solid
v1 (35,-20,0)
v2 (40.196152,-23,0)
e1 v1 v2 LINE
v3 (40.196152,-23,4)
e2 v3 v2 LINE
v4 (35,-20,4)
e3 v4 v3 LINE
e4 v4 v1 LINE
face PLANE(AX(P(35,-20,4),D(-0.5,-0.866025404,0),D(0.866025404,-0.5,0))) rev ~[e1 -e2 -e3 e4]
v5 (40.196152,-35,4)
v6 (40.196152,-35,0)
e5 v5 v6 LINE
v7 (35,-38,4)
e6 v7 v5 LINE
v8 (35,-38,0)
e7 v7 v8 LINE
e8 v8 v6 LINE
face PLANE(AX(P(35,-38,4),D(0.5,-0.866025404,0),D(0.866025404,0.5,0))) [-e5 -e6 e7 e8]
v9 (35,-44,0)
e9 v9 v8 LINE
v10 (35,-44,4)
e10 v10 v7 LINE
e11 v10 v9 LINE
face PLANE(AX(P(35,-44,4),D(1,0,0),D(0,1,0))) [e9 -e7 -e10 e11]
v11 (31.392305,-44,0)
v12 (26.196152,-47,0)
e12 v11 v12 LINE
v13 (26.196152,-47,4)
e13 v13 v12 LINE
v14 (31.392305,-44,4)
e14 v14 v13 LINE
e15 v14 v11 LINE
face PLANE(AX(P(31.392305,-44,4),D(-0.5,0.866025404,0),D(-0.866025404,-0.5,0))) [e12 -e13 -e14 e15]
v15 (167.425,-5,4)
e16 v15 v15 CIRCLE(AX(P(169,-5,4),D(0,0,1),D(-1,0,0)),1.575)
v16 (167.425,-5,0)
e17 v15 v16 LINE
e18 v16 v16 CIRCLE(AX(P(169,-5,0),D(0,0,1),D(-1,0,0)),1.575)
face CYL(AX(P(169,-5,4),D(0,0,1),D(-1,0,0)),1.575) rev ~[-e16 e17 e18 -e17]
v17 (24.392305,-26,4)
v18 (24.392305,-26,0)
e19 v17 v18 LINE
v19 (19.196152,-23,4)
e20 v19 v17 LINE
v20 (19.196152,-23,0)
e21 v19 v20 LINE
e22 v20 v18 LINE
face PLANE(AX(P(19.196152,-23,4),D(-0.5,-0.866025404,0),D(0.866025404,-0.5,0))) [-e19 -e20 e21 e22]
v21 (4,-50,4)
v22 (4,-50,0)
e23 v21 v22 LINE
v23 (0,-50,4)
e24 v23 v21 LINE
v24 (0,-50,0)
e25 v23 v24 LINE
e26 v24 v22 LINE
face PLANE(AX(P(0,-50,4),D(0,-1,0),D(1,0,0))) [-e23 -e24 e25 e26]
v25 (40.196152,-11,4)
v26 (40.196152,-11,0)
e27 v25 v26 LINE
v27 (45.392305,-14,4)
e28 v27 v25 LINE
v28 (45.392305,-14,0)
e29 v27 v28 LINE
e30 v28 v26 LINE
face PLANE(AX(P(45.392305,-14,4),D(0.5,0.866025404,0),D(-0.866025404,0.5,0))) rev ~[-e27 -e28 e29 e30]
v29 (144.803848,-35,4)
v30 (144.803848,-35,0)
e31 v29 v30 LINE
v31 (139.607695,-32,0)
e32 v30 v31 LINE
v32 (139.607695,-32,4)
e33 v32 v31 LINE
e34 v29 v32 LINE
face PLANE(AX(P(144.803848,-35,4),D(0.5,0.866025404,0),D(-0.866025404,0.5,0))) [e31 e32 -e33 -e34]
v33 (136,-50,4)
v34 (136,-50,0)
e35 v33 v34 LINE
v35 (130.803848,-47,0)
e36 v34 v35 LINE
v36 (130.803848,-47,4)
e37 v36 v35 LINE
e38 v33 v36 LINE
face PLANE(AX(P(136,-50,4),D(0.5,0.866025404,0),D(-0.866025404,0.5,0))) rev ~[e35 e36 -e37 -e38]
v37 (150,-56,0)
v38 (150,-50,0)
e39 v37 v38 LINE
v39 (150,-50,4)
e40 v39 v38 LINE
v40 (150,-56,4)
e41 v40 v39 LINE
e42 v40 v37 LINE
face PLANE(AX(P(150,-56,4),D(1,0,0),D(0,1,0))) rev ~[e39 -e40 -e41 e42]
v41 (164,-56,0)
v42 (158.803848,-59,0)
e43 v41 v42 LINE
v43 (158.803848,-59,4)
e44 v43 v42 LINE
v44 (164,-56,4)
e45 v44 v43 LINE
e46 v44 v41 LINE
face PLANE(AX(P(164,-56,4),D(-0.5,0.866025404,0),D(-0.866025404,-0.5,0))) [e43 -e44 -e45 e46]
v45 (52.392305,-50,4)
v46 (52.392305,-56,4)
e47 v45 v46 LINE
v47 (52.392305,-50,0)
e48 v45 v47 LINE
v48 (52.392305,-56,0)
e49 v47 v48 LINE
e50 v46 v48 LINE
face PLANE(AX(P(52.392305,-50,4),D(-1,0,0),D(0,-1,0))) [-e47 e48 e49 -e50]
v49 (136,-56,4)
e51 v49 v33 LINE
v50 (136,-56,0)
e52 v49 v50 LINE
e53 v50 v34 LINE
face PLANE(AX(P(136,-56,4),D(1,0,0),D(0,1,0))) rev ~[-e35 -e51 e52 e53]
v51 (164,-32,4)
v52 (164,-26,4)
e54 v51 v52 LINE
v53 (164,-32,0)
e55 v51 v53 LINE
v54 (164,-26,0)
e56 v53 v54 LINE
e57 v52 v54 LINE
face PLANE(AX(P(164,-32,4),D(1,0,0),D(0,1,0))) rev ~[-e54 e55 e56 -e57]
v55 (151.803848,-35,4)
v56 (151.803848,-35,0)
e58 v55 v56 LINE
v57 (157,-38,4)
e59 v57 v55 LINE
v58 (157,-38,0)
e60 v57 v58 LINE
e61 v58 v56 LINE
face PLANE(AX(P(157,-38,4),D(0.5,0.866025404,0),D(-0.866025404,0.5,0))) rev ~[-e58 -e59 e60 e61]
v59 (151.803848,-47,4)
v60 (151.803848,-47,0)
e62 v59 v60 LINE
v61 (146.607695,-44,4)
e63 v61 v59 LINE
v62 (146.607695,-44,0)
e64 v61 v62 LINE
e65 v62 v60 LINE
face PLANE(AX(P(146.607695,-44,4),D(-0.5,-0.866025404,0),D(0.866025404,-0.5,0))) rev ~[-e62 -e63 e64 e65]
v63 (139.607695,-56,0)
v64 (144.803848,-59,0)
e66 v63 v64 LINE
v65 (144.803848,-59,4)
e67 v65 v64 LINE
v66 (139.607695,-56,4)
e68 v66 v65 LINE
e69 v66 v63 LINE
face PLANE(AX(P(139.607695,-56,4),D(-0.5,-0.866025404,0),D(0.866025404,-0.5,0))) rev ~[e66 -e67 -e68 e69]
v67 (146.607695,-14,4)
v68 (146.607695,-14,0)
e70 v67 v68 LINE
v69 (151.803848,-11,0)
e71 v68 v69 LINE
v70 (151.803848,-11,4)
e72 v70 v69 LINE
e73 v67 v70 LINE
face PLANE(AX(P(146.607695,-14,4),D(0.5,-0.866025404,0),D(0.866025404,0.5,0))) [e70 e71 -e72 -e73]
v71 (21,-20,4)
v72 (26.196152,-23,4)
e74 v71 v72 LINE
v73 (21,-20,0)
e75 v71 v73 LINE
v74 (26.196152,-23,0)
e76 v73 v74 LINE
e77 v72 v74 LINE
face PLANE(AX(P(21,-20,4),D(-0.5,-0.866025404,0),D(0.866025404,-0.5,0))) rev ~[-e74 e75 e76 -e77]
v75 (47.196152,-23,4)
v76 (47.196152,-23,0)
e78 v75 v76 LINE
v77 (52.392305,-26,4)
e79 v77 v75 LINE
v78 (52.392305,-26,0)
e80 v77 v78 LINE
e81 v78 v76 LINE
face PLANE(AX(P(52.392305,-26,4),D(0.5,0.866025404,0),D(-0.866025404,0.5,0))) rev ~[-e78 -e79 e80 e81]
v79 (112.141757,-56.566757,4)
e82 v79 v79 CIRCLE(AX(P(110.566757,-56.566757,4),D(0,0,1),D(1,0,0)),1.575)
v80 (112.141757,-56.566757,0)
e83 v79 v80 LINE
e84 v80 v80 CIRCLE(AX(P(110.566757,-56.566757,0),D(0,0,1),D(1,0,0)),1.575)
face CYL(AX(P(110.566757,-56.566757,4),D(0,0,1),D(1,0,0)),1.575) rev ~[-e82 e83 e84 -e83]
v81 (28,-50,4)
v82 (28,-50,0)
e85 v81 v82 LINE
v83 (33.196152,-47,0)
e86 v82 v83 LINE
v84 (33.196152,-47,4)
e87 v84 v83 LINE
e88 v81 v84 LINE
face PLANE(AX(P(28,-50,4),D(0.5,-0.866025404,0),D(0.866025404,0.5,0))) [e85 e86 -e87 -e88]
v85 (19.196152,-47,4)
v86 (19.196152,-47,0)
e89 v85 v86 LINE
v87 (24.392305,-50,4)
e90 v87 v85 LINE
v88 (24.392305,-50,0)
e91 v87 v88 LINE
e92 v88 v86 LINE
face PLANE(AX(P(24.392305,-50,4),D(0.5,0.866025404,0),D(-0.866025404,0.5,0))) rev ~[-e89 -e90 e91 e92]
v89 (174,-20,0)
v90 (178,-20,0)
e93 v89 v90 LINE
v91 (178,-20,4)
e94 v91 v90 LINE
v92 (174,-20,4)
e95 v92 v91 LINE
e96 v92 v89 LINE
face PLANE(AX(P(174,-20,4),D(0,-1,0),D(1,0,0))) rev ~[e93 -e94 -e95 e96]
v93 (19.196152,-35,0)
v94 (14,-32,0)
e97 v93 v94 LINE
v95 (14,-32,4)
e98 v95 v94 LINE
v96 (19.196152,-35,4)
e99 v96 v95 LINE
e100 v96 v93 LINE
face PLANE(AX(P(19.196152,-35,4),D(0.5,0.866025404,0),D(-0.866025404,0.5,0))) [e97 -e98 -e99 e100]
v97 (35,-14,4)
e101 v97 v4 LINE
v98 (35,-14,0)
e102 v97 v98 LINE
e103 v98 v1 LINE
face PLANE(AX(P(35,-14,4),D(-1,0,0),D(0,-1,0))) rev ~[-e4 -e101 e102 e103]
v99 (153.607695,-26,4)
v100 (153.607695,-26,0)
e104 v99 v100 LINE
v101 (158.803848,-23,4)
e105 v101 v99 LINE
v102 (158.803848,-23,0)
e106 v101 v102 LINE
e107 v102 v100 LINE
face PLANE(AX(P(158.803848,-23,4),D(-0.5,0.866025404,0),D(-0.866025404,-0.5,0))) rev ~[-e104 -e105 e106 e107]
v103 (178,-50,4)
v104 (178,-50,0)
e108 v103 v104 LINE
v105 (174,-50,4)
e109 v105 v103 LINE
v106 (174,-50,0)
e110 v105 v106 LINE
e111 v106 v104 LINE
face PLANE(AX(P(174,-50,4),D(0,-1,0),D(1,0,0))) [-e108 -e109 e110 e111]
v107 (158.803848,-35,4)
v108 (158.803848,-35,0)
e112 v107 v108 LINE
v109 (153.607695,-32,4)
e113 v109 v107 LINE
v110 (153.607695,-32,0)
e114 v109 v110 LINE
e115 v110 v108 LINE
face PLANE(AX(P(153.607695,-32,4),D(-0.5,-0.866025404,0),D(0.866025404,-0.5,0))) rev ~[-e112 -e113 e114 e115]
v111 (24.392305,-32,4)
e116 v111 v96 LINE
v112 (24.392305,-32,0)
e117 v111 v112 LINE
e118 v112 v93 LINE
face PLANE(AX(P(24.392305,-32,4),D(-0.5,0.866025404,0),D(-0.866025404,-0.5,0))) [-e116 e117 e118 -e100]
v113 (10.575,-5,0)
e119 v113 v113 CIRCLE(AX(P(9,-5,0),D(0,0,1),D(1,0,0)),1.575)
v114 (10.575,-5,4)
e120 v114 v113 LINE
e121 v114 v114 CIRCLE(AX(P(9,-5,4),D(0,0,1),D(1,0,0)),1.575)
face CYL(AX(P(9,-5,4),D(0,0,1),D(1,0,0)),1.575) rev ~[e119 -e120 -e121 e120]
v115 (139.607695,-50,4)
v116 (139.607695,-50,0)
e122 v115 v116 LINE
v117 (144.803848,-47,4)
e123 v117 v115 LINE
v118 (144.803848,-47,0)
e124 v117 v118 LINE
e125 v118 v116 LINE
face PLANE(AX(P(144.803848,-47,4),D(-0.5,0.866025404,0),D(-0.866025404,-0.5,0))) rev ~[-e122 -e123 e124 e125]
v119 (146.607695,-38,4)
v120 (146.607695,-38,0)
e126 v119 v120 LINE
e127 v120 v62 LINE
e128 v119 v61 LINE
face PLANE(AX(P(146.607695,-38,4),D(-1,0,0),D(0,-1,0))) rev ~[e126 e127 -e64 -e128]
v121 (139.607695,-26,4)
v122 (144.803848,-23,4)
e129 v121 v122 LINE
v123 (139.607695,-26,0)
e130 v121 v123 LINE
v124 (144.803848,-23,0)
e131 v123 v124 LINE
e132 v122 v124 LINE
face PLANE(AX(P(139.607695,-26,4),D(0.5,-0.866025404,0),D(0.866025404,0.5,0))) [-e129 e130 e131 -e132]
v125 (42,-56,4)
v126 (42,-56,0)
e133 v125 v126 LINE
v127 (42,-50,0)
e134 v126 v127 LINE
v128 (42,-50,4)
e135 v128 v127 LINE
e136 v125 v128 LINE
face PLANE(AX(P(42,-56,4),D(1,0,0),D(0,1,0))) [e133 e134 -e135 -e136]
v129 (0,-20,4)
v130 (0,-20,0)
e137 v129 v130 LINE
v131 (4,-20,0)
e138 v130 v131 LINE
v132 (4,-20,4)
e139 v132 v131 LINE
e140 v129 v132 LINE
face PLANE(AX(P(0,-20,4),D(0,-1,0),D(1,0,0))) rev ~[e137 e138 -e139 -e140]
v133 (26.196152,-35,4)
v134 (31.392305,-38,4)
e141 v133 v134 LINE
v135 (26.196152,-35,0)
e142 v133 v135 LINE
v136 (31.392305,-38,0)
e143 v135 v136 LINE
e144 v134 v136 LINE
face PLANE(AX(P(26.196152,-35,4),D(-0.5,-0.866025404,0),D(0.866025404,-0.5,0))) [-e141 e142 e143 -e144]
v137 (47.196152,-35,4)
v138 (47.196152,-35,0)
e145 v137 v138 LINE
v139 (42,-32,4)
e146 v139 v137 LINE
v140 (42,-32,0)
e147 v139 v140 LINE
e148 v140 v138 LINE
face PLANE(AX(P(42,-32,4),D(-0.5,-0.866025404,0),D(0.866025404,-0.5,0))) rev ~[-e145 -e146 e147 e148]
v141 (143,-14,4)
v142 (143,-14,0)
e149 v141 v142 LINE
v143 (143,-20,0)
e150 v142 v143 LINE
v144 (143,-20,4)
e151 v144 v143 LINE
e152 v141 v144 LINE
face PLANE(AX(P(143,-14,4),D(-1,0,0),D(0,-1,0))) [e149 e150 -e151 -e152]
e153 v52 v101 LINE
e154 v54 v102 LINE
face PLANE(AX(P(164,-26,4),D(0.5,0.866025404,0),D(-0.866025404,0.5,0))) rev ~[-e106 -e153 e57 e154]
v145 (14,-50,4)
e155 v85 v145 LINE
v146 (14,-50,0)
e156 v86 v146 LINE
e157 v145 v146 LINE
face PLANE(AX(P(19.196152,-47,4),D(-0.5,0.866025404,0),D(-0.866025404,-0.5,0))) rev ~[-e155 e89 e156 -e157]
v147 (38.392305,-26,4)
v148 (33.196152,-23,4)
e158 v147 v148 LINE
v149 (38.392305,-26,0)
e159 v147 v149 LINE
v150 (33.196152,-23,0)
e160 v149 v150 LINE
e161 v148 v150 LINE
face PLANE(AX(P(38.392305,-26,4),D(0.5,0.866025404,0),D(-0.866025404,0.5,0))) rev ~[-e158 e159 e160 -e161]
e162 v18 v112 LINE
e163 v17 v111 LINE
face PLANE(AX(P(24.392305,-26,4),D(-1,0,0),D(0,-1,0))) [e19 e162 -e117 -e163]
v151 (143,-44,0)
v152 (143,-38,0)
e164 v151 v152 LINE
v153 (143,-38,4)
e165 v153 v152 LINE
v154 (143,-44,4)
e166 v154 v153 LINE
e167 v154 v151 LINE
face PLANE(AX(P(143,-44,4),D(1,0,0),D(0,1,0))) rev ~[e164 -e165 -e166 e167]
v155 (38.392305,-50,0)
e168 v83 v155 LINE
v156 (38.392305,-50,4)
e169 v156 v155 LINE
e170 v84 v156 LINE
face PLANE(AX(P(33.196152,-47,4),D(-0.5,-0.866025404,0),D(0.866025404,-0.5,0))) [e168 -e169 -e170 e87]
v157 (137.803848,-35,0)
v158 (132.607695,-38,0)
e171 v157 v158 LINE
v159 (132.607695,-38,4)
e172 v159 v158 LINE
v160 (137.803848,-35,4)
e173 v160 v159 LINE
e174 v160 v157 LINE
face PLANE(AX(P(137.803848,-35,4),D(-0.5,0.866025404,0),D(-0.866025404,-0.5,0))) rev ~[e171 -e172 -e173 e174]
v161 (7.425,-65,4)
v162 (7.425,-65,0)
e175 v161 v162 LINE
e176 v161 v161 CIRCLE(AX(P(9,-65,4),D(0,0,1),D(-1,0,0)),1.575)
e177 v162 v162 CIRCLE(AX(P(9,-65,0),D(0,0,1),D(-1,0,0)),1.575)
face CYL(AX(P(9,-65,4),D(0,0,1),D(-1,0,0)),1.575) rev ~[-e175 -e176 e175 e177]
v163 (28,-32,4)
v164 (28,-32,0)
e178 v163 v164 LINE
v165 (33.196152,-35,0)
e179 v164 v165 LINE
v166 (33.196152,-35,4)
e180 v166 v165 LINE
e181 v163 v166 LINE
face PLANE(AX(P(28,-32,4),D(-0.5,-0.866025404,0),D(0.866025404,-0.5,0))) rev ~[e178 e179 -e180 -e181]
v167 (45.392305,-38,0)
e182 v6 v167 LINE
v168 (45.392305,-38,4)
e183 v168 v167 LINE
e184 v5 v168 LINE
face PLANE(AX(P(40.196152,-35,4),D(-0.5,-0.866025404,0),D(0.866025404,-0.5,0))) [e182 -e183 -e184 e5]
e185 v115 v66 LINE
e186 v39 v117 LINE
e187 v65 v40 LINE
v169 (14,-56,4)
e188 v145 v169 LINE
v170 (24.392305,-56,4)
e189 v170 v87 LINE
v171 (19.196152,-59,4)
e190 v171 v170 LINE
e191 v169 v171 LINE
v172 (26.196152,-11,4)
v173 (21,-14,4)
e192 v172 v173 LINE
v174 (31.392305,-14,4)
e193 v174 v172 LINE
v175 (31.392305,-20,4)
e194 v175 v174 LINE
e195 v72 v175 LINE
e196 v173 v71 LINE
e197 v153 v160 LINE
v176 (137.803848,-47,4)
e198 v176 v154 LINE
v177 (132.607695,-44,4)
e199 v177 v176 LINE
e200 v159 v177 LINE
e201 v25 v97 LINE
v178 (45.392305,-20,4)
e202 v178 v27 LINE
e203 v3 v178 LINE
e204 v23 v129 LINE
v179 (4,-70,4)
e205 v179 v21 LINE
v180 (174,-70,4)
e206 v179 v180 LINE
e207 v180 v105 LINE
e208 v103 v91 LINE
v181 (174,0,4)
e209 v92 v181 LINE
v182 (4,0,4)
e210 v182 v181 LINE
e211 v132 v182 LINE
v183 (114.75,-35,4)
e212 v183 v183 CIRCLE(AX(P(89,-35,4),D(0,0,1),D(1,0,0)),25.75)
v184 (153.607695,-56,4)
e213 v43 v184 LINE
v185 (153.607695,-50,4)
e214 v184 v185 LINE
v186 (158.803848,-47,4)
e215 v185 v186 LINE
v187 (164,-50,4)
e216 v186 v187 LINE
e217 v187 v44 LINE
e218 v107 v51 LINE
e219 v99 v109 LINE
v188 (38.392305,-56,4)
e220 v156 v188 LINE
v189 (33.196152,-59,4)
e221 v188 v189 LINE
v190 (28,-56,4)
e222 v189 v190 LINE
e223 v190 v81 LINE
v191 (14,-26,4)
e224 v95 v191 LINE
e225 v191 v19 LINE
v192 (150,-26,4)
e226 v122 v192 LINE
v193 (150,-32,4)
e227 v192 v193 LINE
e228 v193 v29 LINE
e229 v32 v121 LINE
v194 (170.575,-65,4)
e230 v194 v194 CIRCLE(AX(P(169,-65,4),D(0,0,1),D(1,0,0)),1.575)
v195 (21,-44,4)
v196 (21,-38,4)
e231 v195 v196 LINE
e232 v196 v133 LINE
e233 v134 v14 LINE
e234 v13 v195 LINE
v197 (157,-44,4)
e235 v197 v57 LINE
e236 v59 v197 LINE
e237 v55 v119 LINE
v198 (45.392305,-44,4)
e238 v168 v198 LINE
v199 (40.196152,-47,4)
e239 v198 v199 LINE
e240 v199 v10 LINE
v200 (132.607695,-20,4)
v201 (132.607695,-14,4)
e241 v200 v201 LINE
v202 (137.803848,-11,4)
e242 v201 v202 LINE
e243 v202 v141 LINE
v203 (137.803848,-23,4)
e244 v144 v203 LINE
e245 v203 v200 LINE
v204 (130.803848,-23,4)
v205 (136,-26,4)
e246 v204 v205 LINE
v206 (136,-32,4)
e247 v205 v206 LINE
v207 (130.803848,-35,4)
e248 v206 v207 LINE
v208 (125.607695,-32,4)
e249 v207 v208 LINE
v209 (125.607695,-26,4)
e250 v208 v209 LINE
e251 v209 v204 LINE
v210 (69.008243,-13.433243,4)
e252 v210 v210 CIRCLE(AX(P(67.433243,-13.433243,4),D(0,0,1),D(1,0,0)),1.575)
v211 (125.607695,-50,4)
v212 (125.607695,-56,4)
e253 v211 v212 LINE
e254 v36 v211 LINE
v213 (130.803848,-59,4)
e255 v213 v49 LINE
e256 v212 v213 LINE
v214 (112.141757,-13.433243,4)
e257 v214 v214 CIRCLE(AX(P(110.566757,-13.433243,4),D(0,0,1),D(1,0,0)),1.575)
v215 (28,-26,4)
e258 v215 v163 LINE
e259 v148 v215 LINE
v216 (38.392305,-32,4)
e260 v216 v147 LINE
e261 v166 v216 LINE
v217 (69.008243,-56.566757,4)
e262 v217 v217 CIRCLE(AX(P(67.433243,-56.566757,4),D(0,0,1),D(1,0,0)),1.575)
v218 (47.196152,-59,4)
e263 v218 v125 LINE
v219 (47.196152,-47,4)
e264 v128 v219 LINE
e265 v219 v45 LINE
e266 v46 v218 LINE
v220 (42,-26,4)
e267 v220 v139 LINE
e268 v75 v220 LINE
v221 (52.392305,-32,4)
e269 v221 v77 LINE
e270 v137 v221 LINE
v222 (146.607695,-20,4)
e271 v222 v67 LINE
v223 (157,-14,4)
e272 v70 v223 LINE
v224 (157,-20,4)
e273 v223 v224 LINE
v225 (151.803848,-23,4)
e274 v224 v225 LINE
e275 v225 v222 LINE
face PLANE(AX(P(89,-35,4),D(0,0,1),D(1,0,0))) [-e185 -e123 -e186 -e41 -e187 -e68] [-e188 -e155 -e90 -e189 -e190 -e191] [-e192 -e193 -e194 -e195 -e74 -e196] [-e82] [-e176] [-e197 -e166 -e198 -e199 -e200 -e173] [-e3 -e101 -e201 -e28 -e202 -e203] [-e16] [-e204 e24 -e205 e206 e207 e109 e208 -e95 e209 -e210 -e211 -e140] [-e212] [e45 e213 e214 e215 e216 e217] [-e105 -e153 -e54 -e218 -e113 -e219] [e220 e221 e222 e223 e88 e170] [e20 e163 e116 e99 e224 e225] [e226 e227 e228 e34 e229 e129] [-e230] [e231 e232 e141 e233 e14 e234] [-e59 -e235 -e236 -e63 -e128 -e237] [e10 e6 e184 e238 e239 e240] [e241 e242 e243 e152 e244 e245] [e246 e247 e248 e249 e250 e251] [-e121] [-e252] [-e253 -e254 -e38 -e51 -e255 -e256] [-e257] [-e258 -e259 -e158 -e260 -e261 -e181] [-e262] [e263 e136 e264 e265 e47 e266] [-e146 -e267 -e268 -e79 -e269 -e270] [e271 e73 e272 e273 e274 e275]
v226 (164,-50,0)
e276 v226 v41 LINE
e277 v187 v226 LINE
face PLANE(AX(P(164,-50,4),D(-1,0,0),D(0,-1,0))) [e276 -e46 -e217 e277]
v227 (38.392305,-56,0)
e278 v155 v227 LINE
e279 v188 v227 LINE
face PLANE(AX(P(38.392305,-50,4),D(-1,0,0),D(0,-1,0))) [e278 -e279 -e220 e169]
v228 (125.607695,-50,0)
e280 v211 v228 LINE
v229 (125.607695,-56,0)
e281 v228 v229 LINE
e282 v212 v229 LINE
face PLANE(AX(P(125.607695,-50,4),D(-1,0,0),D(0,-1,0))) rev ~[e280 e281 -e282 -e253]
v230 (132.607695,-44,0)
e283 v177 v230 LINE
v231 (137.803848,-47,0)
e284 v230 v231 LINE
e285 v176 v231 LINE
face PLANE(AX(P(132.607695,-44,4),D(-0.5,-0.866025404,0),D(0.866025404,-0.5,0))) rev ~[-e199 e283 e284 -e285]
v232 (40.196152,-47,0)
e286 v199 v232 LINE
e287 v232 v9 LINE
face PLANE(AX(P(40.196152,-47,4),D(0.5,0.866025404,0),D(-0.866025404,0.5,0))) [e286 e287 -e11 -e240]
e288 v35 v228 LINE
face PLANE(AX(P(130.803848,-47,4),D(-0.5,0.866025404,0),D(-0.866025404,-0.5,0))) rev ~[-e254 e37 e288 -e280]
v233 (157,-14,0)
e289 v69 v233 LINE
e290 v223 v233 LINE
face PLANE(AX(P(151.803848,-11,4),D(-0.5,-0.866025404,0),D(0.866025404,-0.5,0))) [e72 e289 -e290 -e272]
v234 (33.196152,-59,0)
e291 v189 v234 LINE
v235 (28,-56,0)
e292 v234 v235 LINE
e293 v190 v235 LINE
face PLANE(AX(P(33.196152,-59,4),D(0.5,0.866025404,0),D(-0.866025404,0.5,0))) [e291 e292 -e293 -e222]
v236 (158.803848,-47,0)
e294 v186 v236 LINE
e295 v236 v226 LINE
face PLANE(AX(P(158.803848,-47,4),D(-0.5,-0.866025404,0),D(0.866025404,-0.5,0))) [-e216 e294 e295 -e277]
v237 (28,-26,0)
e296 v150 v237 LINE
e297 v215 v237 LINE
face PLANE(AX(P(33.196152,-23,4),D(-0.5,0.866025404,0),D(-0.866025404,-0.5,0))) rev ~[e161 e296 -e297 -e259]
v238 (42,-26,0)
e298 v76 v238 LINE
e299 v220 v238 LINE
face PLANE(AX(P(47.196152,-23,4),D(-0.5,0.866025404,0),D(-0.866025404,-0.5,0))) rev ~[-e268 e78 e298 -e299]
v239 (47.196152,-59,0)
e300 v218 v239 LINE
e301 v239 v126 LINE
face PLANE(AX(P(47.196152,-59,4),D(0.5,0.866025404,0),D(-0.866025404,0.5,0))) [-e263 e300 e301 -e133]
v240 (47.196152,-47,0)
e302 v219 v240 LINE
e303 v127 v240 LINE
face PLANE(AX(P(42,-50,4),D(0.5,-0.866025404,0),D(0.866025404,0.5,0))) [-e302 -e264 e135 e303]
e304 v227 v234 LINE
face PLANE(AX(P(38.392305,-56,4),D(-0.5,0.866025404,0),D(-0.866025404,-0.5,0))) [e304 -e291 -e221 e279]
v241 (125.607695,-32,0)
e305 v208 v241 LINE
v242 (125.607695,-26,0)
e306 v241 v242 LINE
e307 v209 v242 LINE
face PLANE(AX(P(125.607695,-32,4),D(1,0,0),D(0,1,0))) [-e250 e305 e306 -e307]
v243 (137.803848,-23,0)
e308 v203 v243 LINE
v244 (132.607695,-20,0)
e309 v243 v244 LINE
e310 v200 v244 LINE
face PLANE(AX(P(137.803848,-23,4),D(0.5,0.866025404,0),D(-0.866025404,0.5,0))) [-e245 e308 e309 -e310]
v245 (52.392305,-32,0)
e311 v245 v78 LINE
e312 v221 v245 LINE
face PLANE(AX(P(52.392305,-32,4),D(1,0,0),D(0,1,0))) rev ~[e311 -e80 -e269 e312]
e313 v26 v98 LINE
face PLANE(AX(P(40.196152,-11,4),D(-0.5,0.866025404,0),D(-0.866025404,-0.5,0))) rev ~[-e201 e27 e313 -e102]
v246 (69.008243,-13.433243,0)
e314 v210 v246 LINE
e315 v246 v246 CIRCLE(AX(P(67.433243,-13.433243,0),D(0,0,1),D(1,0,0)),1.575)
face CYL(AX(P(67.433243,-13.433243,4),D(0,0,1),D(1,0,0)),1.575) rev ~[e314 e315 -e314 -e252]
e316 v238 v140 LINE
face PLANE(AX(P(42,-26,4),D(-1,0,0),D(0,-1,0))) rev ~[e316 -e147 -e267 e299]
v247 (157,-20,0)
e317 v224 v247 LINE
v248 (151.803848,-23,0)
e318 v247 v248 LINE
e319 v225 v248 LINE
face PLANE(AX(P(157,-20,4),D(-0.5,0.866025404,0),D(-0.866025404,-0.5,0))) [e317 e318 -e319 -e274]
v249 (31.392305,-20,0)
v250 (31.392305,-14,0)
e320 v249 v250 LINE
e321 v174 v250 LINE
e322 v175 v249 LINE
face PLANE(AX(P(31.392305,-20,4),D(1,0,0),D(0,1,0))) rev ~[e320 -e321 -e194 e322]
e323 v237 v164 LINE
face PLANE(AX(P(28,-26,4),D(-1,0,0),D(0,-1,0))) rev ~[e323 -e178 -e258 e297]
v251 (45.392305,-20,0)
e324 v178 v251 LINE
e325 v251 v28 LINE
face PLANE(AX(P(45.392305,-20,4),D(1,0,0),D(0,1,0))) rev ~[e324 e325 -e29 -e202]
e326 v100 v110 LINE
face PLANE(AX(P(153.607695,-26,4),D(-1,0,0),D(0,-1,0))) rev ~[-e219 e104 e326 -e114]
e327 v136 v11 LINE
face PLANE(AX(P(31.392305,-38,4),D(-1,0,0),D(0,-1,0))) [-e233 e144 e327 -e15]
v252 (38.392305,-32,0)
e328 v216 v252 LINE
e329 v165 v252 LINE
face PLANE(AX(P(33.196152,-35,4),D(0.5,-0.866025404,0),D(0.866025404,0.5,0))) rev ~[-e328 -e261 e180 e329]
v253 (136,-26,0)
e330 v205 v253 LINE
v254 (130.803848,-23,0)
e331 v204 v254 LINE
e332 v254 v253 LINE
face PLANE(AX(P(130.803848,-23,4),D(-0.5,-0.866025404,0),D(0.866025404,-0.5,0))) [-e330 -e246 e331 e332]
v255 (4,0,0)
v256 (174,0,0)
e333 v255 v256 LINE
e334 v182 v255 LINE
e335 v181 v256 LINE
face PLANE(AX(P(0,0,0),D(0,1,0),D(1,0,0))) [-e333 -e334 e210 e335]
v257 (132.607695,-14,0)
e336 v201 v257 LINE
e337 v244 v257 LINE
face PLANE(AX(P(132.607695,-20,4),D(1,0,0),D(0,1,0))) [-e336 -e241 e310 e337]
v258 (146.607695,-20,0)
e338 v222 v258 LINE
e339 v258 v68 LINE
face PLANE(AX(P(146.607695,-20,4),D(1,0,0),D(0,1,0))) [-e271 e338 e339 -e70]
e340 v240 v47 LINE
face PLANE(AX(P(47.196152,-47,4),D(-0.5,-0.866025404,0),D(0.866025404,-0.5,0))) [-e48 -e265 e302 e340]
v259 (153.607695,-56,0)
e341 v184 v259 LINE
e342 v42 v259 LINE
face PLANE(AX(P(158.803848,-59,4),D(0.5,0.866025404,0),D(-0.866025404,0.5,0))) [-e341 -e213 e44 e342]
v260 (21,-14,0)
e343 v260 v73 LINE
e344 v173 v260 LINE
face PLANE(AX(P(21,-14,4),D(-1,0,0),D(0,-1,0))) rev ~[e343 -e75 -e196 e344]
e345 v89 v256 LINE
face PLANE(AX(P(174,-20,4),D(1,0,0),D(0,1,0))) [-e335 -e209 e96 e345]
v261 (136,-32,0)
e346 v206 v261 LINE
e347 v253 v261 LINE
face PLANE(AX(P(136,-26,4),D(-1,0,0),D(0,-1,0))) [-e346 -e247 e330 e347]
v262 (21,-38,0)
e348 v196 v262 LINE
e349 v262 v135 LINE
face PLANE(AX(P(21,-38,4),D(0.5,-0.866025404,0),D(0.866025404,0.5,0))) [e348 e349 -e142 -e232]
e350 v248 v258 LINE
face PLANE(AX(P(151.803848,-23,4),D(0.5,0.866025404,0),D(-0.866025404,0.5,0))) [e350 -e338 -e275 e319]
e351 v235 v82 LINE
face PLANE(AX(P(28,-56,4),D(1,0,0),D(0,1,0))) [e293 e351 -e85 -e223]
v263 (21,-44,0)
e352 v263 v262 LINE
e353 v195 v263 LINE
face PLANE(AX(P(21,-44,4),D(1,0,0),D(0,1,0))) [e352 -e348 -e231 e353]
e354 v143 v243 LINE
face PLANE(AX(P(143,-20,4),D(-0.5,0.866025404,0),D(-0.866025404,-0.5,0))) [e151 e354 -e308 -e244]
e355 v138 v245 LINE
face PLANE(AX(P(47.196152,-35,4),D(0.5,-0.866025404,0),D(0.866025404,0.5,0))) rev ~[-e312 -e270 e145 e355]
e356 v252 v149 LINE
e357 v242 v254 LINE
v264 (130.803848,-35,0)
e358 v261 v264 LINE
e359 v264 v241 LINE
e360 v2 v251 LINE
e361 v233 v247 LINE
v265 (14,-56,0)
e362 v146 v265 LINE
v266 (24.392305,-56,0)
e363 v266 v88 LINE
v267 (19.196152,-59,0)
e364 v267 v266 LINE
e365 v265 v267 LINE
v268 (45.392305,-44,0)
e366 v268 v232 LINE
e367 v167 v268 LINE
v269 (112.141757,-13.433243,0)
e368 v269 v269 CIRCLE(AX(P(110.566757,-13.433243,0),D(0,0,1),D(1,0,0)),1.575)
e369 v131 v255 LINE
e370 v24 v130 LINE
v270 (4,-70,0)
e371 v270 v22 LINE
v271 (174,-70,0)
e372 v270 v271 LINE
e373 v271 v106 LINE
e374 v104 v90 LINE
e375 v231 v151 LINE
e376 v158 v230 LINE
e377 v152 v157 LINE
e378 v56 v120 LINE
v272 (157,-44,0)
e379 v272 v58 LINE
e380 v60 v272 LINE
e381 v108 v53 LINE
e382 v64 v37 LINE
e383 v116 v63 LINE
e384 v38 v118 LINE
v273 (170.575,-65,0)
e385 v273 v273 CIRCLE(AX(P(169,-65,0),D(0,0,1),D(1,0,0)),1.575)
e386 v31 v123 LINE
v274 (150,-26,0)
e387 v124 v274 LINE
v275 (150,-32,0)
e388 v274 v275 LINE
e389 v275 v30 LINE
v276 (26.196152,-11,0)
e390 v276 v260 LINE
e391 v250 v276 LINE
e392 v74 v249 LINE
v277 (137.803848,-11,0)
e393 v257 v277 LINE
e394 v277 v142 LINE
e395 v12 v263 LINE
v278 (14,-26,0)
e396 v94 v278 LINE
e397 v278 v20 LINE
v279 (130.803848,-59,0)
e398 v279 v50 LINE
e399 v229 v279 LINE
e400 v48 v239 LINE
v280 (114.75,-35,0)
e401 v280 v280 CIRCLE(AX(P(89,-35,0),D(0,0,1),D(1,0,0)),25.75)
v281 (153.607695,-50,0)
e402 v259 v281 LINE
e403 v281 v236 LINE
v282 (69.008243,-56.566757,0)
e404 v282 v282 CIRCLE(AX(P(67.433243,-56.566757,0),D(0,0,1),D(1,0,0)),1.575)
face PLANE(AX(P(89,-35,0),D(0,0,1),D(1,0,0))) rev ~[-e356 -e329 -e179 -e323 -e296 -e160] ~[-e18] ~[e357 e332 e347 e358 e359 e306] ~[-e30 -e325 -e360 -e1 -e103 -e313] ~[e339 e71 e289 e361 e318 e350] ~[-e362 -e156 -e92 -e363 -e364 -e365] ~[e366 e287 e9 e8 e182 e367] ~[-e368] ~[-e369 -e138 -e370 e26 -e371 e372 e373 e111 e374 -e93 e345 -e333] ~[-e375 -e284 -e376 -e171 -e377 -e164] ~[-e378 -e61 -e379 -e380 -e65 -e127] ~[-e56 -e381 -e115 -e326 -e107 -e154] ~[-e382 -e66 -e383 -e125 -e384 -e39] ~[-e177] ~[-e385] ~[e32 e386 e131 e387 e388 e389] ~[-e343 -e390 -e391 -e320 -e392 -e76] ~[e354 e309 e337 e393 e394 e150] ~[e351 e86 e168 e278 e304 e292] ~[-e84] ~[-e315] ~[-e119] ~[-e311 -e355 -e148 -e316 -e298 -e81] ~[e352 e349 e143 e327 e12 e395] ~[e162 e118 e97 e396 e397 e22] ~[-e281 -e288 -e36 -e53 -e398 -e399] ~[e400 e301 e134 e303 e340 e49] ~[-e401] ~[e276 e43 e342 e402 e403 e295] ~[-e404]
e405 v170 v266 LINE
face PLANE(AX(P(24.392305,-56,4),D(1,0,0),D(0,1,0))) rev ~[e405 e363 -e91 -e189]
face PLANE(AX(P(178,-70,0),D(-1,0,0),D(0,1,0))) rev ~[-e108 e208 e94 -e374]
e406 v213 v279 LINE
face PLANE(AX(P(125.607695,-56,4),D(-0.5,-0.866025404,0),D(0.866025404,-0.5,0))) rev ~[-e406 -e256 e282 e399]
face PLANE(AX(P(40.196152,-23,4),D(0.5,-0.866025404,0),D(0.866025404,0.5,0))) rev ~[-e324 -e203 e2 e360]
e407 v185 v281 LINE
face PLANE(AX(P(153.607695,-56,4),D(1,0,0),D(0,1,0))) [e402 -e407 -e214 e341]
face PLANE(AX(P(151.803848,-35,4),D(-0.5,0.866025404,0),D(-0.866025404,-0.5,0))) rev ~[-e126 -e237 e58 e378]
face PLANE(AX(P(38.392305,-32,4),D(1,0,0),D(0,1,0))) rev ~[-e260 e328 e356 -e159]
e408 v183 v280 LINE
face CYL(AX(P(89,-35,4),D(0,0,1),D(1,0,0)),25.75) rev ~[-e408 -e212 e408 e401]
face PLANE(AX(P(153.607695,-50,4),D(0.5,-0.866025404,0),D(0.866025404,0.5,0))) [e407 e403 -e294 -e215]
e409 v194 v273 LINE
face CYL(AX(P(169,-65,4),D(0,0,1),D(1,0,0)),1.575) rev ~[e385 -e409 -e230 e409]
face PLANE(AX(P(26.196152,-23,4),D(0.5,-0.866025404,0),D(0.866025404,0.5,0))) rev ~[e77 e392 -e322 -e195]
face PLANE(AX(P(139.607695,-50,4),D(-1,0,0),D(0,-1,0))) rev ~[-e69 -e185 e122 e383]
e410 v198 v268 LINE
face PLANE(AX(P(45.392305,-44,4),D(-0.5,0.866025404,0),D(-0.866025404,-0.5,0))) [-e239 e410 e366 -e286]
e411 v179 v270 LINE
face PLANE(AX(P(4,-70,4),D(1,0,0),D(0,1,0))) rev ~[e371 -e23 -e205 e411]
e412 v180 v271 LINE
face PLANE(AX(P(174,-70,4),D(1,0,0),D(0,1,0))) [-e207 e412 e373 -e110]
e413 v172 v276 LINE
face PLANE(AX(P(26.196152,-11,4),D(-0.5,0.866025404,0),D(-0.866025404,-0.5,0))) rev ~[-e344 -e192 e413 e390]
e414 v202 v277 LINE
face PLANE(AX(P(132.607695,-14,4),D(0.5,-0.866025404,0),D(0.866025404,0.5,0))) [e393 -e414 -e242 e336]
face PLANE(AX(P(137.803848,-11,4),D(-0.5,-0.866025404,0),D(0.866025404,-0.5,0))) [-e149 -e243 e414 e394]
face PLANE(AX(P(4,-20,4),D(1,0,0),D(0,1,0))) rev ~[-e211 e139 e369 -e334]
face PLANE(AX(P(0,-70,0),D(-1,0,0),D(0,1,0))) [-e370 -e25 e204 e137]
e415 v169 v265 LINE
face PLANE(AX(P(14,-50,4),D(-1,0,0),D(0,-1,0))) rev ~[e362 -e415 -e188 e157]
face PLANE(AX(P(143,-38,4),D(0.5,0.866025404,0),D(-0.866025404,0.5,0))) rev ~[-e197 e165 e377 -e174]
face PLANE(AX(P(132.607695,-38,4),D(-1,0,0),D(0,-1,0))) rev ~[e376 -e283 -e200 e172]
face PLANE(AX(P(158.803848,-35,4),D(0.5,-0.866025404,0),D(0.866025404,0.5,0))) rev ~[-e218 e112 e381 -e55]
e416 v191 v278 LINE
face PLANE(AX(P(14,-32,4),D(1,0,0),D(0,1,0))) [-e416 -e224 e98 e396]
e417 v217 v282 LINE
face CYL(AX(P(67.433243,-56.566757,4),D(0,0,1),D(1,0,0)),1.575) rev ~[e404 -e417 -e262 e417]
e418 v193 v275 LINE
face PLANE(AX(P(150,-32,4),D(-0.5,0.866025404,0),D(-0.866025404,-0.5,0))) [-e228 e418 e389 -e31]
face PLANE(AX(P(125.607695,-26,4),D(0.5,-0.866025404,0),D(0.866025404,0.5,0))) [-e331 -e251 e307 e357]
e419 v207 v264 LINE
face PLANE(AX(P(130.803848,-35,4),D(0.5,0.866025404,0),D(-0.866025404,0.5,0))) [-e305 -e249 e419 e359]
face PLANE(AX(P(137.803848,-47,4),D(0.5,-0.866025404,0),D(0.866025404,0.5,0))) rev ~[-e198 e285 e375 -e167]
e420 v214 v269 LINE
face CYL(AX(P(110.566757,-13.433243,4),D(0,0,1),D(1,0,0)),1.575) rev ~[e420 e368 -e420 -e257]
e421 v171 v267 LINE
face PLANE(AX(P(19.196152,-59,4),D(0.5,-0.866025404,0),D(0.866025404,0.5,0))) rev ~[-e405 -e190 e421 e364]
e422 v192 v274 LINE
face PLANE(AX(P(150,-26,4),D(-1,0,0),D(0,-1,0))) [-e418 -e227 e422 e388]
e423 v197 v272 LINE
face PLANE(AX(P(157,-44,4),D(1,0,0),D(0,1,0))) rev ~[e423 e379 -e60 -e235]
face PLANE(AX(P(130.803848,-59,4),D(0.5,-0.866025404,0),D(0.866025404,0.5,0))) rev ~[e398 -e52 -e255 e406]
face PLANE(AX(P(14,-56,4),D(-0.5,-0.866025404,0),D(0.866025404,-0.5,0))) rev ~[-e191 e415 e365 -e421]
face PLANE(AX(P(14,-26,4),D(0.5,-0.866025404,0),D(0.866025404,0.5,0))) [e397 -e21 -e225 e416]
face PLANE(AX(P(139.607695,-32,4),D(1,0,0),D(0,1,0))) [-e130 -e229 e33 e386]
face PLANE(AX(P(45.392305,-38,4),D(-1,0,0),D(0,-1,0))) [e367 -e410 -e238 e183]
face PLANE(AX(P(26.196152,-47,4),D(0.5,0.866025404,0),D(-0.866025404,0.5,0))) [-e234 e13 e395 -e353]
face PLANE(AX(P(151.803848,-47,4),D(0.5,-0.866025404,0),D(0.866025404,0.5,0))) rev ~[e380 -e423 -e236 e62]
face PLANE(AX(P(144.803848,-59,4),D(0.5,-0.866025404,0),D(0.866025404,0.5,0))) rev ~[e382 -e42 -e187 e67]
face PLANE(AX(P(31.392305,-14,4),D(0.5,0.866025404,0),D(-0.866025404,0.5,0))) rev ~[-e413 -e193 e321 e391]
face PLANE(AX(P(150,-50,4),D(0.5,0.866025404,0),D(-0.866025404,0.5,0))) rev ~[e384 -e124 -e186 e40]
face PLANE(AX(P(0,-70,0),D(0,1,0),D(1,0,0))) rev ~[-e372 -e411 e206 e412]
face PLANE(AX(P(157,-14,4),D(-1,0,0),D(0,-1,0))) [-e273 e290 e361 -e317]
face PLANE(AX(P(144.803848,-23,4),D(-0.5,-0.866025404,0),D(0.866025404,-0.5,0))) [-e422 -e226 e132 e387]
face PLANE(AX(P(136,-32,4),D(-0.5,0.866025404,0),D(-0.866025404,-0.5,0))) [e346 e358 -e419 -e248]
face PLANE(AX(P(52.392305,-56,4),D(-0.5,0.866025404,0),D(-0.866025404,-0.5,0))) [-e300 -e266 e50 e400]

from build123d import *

# Parameters (mm, degrees)
SKETCH_1_W          = 178
SKETCH_1_H          = 70
EXTRUDE_1_DEPTH     = 4
SKETCH_2_R          = 25.75
SKETCH_2_R_2        = 1.575
SKETCH_2_W          = 4
SKETCH_2_H          = 20
CUT_EXTRUDE_1_DEPTH = 192.311264697


with BuildPart() as part:
    # 草图1 → 凸台-拉伸1 (new body)
    with BuildSketch(Plane.XY):
        with Locations((89, -35)):
            Rectangle(SKETCH_1_W, SKETCH_1_H)
    extrude(amount=EXTRUDE_1_DEPTH)

    # 草图2 → 切除-拉伸1 (cut, through all)
    with BuildSketch(Plane.XY.offset(4)):
        with Locations((89, -35)):
            Circle(SKETCH_2_R)
        with Locations((9, -5)):
            Circle(SKETCH_2_R_2)
        with Locations(Location((9, -65, 0), (0, 0, 180))):
            Circle(SKETCH_2_R_2)
        with Locations((169, -65)):
            Circle(SKETCH_2_R_2)
        with Locations(Location((169, -5, 0), (0, 0, 180))):
            Circle(SKETCH_2_R_2)
        with Locations((67.433243174, -13.433243174)):
            Circle(SKETCH_2_R_2)
        with Locations((110.566756826, -13.433243174)):
            Circle(SKETCH_2_R_2)
        with Locations((110.566756826, -56.566756826)):
            Circle(SKETCH_2_R_2)
        with Locations((67.433243174, -56.566756826)):
            Circle(SKETCH_2_R_2)
        with Locations((2, -10)):
            Rectangle(SKETCH_2_W, SKETCH_2_H)
        with Locations((176, -10)):
            Rectangle(SKETCH_2_W, SKETCH_2_H)
        with Locations((176, -60)):
            Rectangle(SKETCH_2_W, SKETCH_2_H)
        with Locations((2, -60)):
            Rectangle(SKETCH_2_W, SKETCH_2_H)
        Polygon((40.196152423, -11), (35, -14), (35, -20), (40.196152423, -23), (45.392304845, -20), (45.392304845, -14), align=None)
        Polygon((26.196152423, -23), (31.392304845, -20), (31.392304845, -14), (26.196152423, -11), (21, -14), (21, -20), align=None)
        Polygon((33.196152423, -35), (38.392304845, -32), (38.392304845, -26), (33.196152423, -23), (28, -26), (28, -32), align=None)
        Polygon((52.392304845, -26), (47.196152423, -23), (42, -26), (42, -32), (47.196152423, -35), (52.392304845, -32), align=None)
        Polygon((24.392304845, -26), (24.392304845, -32), (19.196152423, -35), (14, -32), (14, -26), (19.196152423, -23), align=None)
        Polygon((45.392304845, -38), (45.392304845, -44), (40.196152423, -47), (35, -44), (35, -38), (40.196152423, -35), align=None)
        Polygon((21, -38), (26.196152423, -35), (31.392304845, -38), (31.392304845, -44), (26.196152423, -47), (21, -44), align=None)
        Polygon((14, -56), (19.196152423, -59), (24.392304845, -56), (24.392304845, -50), (19.196152423, -47), (14, -50), align=None)
        Polygon((42, -56), (42, -50), (47.196152423, -47), (52.392304845, -50), (52.392304845, -56), (47.196152423, -59), align=None)
        Polygon((28, -50), (33.196152423, -47), (38.392304845, -50), (38.392304845, -56), (33.196152423, -59), (28, -56), align=None)
        Polygon((144.803847577, -47), (139.607695155, -50), (139.607695155, -56), (144.803847577, -59), (150, -56), (150, -50), align=None)
        Polygon((125.607695155, -56), (130.803847577, -59), (136, -56), (136, -50), (130.803847577, -47), (125.607695155, -50), align=None)
        Polygon((153.607695155, -56), (153.607695155, -50), (158.803847577, -47), (164, -50), (164, -56), (158.803847577, -59), align=None)
        Polygon((137.803847577, -47), (143, -44), (143, -38), (137.803847577, -35), (132.607695155, -38), (132.607695155, -44), align=None)
        Polygon((151.803847577, -35), (146.607695155, -38), (146.607695155, -44), (151.803847577, -47), (157, -44), (157, -38), align=None)
        Polygon((164, -26), (158.803847577, -23), (153.607695155, -26), (153.607695155, -32), (158.803847577, -35), (164, -32), align=None)
        Polygon((136, -26), (136, -32), (130.803847577, -35), (125.607695155, -32), (125.607695155, -26), (130.803847577, -23), align=None)
        Polygon((150, -32), (144.803847577, -35), (139.607695155, -32), (139.607695155, -26), (144.803847577, -23), (150, -26), align=None)
        Polygon((132.607695155, -20), (132.607695155, -14), (137.803847577, -11), (143, -14), (143, -20), (137.803847577, -23), align=None)
        Polygon((157, -20), (151.803847577, -23), (146.607695155, -20), (146.607695155, -14), (151.803847577, -11), (157, -14), align=None)
    extrude(amount=-CUT_EXTRUDE_1_DEPTH, mode=Mode.SUBTRACT)


solid = part.part
